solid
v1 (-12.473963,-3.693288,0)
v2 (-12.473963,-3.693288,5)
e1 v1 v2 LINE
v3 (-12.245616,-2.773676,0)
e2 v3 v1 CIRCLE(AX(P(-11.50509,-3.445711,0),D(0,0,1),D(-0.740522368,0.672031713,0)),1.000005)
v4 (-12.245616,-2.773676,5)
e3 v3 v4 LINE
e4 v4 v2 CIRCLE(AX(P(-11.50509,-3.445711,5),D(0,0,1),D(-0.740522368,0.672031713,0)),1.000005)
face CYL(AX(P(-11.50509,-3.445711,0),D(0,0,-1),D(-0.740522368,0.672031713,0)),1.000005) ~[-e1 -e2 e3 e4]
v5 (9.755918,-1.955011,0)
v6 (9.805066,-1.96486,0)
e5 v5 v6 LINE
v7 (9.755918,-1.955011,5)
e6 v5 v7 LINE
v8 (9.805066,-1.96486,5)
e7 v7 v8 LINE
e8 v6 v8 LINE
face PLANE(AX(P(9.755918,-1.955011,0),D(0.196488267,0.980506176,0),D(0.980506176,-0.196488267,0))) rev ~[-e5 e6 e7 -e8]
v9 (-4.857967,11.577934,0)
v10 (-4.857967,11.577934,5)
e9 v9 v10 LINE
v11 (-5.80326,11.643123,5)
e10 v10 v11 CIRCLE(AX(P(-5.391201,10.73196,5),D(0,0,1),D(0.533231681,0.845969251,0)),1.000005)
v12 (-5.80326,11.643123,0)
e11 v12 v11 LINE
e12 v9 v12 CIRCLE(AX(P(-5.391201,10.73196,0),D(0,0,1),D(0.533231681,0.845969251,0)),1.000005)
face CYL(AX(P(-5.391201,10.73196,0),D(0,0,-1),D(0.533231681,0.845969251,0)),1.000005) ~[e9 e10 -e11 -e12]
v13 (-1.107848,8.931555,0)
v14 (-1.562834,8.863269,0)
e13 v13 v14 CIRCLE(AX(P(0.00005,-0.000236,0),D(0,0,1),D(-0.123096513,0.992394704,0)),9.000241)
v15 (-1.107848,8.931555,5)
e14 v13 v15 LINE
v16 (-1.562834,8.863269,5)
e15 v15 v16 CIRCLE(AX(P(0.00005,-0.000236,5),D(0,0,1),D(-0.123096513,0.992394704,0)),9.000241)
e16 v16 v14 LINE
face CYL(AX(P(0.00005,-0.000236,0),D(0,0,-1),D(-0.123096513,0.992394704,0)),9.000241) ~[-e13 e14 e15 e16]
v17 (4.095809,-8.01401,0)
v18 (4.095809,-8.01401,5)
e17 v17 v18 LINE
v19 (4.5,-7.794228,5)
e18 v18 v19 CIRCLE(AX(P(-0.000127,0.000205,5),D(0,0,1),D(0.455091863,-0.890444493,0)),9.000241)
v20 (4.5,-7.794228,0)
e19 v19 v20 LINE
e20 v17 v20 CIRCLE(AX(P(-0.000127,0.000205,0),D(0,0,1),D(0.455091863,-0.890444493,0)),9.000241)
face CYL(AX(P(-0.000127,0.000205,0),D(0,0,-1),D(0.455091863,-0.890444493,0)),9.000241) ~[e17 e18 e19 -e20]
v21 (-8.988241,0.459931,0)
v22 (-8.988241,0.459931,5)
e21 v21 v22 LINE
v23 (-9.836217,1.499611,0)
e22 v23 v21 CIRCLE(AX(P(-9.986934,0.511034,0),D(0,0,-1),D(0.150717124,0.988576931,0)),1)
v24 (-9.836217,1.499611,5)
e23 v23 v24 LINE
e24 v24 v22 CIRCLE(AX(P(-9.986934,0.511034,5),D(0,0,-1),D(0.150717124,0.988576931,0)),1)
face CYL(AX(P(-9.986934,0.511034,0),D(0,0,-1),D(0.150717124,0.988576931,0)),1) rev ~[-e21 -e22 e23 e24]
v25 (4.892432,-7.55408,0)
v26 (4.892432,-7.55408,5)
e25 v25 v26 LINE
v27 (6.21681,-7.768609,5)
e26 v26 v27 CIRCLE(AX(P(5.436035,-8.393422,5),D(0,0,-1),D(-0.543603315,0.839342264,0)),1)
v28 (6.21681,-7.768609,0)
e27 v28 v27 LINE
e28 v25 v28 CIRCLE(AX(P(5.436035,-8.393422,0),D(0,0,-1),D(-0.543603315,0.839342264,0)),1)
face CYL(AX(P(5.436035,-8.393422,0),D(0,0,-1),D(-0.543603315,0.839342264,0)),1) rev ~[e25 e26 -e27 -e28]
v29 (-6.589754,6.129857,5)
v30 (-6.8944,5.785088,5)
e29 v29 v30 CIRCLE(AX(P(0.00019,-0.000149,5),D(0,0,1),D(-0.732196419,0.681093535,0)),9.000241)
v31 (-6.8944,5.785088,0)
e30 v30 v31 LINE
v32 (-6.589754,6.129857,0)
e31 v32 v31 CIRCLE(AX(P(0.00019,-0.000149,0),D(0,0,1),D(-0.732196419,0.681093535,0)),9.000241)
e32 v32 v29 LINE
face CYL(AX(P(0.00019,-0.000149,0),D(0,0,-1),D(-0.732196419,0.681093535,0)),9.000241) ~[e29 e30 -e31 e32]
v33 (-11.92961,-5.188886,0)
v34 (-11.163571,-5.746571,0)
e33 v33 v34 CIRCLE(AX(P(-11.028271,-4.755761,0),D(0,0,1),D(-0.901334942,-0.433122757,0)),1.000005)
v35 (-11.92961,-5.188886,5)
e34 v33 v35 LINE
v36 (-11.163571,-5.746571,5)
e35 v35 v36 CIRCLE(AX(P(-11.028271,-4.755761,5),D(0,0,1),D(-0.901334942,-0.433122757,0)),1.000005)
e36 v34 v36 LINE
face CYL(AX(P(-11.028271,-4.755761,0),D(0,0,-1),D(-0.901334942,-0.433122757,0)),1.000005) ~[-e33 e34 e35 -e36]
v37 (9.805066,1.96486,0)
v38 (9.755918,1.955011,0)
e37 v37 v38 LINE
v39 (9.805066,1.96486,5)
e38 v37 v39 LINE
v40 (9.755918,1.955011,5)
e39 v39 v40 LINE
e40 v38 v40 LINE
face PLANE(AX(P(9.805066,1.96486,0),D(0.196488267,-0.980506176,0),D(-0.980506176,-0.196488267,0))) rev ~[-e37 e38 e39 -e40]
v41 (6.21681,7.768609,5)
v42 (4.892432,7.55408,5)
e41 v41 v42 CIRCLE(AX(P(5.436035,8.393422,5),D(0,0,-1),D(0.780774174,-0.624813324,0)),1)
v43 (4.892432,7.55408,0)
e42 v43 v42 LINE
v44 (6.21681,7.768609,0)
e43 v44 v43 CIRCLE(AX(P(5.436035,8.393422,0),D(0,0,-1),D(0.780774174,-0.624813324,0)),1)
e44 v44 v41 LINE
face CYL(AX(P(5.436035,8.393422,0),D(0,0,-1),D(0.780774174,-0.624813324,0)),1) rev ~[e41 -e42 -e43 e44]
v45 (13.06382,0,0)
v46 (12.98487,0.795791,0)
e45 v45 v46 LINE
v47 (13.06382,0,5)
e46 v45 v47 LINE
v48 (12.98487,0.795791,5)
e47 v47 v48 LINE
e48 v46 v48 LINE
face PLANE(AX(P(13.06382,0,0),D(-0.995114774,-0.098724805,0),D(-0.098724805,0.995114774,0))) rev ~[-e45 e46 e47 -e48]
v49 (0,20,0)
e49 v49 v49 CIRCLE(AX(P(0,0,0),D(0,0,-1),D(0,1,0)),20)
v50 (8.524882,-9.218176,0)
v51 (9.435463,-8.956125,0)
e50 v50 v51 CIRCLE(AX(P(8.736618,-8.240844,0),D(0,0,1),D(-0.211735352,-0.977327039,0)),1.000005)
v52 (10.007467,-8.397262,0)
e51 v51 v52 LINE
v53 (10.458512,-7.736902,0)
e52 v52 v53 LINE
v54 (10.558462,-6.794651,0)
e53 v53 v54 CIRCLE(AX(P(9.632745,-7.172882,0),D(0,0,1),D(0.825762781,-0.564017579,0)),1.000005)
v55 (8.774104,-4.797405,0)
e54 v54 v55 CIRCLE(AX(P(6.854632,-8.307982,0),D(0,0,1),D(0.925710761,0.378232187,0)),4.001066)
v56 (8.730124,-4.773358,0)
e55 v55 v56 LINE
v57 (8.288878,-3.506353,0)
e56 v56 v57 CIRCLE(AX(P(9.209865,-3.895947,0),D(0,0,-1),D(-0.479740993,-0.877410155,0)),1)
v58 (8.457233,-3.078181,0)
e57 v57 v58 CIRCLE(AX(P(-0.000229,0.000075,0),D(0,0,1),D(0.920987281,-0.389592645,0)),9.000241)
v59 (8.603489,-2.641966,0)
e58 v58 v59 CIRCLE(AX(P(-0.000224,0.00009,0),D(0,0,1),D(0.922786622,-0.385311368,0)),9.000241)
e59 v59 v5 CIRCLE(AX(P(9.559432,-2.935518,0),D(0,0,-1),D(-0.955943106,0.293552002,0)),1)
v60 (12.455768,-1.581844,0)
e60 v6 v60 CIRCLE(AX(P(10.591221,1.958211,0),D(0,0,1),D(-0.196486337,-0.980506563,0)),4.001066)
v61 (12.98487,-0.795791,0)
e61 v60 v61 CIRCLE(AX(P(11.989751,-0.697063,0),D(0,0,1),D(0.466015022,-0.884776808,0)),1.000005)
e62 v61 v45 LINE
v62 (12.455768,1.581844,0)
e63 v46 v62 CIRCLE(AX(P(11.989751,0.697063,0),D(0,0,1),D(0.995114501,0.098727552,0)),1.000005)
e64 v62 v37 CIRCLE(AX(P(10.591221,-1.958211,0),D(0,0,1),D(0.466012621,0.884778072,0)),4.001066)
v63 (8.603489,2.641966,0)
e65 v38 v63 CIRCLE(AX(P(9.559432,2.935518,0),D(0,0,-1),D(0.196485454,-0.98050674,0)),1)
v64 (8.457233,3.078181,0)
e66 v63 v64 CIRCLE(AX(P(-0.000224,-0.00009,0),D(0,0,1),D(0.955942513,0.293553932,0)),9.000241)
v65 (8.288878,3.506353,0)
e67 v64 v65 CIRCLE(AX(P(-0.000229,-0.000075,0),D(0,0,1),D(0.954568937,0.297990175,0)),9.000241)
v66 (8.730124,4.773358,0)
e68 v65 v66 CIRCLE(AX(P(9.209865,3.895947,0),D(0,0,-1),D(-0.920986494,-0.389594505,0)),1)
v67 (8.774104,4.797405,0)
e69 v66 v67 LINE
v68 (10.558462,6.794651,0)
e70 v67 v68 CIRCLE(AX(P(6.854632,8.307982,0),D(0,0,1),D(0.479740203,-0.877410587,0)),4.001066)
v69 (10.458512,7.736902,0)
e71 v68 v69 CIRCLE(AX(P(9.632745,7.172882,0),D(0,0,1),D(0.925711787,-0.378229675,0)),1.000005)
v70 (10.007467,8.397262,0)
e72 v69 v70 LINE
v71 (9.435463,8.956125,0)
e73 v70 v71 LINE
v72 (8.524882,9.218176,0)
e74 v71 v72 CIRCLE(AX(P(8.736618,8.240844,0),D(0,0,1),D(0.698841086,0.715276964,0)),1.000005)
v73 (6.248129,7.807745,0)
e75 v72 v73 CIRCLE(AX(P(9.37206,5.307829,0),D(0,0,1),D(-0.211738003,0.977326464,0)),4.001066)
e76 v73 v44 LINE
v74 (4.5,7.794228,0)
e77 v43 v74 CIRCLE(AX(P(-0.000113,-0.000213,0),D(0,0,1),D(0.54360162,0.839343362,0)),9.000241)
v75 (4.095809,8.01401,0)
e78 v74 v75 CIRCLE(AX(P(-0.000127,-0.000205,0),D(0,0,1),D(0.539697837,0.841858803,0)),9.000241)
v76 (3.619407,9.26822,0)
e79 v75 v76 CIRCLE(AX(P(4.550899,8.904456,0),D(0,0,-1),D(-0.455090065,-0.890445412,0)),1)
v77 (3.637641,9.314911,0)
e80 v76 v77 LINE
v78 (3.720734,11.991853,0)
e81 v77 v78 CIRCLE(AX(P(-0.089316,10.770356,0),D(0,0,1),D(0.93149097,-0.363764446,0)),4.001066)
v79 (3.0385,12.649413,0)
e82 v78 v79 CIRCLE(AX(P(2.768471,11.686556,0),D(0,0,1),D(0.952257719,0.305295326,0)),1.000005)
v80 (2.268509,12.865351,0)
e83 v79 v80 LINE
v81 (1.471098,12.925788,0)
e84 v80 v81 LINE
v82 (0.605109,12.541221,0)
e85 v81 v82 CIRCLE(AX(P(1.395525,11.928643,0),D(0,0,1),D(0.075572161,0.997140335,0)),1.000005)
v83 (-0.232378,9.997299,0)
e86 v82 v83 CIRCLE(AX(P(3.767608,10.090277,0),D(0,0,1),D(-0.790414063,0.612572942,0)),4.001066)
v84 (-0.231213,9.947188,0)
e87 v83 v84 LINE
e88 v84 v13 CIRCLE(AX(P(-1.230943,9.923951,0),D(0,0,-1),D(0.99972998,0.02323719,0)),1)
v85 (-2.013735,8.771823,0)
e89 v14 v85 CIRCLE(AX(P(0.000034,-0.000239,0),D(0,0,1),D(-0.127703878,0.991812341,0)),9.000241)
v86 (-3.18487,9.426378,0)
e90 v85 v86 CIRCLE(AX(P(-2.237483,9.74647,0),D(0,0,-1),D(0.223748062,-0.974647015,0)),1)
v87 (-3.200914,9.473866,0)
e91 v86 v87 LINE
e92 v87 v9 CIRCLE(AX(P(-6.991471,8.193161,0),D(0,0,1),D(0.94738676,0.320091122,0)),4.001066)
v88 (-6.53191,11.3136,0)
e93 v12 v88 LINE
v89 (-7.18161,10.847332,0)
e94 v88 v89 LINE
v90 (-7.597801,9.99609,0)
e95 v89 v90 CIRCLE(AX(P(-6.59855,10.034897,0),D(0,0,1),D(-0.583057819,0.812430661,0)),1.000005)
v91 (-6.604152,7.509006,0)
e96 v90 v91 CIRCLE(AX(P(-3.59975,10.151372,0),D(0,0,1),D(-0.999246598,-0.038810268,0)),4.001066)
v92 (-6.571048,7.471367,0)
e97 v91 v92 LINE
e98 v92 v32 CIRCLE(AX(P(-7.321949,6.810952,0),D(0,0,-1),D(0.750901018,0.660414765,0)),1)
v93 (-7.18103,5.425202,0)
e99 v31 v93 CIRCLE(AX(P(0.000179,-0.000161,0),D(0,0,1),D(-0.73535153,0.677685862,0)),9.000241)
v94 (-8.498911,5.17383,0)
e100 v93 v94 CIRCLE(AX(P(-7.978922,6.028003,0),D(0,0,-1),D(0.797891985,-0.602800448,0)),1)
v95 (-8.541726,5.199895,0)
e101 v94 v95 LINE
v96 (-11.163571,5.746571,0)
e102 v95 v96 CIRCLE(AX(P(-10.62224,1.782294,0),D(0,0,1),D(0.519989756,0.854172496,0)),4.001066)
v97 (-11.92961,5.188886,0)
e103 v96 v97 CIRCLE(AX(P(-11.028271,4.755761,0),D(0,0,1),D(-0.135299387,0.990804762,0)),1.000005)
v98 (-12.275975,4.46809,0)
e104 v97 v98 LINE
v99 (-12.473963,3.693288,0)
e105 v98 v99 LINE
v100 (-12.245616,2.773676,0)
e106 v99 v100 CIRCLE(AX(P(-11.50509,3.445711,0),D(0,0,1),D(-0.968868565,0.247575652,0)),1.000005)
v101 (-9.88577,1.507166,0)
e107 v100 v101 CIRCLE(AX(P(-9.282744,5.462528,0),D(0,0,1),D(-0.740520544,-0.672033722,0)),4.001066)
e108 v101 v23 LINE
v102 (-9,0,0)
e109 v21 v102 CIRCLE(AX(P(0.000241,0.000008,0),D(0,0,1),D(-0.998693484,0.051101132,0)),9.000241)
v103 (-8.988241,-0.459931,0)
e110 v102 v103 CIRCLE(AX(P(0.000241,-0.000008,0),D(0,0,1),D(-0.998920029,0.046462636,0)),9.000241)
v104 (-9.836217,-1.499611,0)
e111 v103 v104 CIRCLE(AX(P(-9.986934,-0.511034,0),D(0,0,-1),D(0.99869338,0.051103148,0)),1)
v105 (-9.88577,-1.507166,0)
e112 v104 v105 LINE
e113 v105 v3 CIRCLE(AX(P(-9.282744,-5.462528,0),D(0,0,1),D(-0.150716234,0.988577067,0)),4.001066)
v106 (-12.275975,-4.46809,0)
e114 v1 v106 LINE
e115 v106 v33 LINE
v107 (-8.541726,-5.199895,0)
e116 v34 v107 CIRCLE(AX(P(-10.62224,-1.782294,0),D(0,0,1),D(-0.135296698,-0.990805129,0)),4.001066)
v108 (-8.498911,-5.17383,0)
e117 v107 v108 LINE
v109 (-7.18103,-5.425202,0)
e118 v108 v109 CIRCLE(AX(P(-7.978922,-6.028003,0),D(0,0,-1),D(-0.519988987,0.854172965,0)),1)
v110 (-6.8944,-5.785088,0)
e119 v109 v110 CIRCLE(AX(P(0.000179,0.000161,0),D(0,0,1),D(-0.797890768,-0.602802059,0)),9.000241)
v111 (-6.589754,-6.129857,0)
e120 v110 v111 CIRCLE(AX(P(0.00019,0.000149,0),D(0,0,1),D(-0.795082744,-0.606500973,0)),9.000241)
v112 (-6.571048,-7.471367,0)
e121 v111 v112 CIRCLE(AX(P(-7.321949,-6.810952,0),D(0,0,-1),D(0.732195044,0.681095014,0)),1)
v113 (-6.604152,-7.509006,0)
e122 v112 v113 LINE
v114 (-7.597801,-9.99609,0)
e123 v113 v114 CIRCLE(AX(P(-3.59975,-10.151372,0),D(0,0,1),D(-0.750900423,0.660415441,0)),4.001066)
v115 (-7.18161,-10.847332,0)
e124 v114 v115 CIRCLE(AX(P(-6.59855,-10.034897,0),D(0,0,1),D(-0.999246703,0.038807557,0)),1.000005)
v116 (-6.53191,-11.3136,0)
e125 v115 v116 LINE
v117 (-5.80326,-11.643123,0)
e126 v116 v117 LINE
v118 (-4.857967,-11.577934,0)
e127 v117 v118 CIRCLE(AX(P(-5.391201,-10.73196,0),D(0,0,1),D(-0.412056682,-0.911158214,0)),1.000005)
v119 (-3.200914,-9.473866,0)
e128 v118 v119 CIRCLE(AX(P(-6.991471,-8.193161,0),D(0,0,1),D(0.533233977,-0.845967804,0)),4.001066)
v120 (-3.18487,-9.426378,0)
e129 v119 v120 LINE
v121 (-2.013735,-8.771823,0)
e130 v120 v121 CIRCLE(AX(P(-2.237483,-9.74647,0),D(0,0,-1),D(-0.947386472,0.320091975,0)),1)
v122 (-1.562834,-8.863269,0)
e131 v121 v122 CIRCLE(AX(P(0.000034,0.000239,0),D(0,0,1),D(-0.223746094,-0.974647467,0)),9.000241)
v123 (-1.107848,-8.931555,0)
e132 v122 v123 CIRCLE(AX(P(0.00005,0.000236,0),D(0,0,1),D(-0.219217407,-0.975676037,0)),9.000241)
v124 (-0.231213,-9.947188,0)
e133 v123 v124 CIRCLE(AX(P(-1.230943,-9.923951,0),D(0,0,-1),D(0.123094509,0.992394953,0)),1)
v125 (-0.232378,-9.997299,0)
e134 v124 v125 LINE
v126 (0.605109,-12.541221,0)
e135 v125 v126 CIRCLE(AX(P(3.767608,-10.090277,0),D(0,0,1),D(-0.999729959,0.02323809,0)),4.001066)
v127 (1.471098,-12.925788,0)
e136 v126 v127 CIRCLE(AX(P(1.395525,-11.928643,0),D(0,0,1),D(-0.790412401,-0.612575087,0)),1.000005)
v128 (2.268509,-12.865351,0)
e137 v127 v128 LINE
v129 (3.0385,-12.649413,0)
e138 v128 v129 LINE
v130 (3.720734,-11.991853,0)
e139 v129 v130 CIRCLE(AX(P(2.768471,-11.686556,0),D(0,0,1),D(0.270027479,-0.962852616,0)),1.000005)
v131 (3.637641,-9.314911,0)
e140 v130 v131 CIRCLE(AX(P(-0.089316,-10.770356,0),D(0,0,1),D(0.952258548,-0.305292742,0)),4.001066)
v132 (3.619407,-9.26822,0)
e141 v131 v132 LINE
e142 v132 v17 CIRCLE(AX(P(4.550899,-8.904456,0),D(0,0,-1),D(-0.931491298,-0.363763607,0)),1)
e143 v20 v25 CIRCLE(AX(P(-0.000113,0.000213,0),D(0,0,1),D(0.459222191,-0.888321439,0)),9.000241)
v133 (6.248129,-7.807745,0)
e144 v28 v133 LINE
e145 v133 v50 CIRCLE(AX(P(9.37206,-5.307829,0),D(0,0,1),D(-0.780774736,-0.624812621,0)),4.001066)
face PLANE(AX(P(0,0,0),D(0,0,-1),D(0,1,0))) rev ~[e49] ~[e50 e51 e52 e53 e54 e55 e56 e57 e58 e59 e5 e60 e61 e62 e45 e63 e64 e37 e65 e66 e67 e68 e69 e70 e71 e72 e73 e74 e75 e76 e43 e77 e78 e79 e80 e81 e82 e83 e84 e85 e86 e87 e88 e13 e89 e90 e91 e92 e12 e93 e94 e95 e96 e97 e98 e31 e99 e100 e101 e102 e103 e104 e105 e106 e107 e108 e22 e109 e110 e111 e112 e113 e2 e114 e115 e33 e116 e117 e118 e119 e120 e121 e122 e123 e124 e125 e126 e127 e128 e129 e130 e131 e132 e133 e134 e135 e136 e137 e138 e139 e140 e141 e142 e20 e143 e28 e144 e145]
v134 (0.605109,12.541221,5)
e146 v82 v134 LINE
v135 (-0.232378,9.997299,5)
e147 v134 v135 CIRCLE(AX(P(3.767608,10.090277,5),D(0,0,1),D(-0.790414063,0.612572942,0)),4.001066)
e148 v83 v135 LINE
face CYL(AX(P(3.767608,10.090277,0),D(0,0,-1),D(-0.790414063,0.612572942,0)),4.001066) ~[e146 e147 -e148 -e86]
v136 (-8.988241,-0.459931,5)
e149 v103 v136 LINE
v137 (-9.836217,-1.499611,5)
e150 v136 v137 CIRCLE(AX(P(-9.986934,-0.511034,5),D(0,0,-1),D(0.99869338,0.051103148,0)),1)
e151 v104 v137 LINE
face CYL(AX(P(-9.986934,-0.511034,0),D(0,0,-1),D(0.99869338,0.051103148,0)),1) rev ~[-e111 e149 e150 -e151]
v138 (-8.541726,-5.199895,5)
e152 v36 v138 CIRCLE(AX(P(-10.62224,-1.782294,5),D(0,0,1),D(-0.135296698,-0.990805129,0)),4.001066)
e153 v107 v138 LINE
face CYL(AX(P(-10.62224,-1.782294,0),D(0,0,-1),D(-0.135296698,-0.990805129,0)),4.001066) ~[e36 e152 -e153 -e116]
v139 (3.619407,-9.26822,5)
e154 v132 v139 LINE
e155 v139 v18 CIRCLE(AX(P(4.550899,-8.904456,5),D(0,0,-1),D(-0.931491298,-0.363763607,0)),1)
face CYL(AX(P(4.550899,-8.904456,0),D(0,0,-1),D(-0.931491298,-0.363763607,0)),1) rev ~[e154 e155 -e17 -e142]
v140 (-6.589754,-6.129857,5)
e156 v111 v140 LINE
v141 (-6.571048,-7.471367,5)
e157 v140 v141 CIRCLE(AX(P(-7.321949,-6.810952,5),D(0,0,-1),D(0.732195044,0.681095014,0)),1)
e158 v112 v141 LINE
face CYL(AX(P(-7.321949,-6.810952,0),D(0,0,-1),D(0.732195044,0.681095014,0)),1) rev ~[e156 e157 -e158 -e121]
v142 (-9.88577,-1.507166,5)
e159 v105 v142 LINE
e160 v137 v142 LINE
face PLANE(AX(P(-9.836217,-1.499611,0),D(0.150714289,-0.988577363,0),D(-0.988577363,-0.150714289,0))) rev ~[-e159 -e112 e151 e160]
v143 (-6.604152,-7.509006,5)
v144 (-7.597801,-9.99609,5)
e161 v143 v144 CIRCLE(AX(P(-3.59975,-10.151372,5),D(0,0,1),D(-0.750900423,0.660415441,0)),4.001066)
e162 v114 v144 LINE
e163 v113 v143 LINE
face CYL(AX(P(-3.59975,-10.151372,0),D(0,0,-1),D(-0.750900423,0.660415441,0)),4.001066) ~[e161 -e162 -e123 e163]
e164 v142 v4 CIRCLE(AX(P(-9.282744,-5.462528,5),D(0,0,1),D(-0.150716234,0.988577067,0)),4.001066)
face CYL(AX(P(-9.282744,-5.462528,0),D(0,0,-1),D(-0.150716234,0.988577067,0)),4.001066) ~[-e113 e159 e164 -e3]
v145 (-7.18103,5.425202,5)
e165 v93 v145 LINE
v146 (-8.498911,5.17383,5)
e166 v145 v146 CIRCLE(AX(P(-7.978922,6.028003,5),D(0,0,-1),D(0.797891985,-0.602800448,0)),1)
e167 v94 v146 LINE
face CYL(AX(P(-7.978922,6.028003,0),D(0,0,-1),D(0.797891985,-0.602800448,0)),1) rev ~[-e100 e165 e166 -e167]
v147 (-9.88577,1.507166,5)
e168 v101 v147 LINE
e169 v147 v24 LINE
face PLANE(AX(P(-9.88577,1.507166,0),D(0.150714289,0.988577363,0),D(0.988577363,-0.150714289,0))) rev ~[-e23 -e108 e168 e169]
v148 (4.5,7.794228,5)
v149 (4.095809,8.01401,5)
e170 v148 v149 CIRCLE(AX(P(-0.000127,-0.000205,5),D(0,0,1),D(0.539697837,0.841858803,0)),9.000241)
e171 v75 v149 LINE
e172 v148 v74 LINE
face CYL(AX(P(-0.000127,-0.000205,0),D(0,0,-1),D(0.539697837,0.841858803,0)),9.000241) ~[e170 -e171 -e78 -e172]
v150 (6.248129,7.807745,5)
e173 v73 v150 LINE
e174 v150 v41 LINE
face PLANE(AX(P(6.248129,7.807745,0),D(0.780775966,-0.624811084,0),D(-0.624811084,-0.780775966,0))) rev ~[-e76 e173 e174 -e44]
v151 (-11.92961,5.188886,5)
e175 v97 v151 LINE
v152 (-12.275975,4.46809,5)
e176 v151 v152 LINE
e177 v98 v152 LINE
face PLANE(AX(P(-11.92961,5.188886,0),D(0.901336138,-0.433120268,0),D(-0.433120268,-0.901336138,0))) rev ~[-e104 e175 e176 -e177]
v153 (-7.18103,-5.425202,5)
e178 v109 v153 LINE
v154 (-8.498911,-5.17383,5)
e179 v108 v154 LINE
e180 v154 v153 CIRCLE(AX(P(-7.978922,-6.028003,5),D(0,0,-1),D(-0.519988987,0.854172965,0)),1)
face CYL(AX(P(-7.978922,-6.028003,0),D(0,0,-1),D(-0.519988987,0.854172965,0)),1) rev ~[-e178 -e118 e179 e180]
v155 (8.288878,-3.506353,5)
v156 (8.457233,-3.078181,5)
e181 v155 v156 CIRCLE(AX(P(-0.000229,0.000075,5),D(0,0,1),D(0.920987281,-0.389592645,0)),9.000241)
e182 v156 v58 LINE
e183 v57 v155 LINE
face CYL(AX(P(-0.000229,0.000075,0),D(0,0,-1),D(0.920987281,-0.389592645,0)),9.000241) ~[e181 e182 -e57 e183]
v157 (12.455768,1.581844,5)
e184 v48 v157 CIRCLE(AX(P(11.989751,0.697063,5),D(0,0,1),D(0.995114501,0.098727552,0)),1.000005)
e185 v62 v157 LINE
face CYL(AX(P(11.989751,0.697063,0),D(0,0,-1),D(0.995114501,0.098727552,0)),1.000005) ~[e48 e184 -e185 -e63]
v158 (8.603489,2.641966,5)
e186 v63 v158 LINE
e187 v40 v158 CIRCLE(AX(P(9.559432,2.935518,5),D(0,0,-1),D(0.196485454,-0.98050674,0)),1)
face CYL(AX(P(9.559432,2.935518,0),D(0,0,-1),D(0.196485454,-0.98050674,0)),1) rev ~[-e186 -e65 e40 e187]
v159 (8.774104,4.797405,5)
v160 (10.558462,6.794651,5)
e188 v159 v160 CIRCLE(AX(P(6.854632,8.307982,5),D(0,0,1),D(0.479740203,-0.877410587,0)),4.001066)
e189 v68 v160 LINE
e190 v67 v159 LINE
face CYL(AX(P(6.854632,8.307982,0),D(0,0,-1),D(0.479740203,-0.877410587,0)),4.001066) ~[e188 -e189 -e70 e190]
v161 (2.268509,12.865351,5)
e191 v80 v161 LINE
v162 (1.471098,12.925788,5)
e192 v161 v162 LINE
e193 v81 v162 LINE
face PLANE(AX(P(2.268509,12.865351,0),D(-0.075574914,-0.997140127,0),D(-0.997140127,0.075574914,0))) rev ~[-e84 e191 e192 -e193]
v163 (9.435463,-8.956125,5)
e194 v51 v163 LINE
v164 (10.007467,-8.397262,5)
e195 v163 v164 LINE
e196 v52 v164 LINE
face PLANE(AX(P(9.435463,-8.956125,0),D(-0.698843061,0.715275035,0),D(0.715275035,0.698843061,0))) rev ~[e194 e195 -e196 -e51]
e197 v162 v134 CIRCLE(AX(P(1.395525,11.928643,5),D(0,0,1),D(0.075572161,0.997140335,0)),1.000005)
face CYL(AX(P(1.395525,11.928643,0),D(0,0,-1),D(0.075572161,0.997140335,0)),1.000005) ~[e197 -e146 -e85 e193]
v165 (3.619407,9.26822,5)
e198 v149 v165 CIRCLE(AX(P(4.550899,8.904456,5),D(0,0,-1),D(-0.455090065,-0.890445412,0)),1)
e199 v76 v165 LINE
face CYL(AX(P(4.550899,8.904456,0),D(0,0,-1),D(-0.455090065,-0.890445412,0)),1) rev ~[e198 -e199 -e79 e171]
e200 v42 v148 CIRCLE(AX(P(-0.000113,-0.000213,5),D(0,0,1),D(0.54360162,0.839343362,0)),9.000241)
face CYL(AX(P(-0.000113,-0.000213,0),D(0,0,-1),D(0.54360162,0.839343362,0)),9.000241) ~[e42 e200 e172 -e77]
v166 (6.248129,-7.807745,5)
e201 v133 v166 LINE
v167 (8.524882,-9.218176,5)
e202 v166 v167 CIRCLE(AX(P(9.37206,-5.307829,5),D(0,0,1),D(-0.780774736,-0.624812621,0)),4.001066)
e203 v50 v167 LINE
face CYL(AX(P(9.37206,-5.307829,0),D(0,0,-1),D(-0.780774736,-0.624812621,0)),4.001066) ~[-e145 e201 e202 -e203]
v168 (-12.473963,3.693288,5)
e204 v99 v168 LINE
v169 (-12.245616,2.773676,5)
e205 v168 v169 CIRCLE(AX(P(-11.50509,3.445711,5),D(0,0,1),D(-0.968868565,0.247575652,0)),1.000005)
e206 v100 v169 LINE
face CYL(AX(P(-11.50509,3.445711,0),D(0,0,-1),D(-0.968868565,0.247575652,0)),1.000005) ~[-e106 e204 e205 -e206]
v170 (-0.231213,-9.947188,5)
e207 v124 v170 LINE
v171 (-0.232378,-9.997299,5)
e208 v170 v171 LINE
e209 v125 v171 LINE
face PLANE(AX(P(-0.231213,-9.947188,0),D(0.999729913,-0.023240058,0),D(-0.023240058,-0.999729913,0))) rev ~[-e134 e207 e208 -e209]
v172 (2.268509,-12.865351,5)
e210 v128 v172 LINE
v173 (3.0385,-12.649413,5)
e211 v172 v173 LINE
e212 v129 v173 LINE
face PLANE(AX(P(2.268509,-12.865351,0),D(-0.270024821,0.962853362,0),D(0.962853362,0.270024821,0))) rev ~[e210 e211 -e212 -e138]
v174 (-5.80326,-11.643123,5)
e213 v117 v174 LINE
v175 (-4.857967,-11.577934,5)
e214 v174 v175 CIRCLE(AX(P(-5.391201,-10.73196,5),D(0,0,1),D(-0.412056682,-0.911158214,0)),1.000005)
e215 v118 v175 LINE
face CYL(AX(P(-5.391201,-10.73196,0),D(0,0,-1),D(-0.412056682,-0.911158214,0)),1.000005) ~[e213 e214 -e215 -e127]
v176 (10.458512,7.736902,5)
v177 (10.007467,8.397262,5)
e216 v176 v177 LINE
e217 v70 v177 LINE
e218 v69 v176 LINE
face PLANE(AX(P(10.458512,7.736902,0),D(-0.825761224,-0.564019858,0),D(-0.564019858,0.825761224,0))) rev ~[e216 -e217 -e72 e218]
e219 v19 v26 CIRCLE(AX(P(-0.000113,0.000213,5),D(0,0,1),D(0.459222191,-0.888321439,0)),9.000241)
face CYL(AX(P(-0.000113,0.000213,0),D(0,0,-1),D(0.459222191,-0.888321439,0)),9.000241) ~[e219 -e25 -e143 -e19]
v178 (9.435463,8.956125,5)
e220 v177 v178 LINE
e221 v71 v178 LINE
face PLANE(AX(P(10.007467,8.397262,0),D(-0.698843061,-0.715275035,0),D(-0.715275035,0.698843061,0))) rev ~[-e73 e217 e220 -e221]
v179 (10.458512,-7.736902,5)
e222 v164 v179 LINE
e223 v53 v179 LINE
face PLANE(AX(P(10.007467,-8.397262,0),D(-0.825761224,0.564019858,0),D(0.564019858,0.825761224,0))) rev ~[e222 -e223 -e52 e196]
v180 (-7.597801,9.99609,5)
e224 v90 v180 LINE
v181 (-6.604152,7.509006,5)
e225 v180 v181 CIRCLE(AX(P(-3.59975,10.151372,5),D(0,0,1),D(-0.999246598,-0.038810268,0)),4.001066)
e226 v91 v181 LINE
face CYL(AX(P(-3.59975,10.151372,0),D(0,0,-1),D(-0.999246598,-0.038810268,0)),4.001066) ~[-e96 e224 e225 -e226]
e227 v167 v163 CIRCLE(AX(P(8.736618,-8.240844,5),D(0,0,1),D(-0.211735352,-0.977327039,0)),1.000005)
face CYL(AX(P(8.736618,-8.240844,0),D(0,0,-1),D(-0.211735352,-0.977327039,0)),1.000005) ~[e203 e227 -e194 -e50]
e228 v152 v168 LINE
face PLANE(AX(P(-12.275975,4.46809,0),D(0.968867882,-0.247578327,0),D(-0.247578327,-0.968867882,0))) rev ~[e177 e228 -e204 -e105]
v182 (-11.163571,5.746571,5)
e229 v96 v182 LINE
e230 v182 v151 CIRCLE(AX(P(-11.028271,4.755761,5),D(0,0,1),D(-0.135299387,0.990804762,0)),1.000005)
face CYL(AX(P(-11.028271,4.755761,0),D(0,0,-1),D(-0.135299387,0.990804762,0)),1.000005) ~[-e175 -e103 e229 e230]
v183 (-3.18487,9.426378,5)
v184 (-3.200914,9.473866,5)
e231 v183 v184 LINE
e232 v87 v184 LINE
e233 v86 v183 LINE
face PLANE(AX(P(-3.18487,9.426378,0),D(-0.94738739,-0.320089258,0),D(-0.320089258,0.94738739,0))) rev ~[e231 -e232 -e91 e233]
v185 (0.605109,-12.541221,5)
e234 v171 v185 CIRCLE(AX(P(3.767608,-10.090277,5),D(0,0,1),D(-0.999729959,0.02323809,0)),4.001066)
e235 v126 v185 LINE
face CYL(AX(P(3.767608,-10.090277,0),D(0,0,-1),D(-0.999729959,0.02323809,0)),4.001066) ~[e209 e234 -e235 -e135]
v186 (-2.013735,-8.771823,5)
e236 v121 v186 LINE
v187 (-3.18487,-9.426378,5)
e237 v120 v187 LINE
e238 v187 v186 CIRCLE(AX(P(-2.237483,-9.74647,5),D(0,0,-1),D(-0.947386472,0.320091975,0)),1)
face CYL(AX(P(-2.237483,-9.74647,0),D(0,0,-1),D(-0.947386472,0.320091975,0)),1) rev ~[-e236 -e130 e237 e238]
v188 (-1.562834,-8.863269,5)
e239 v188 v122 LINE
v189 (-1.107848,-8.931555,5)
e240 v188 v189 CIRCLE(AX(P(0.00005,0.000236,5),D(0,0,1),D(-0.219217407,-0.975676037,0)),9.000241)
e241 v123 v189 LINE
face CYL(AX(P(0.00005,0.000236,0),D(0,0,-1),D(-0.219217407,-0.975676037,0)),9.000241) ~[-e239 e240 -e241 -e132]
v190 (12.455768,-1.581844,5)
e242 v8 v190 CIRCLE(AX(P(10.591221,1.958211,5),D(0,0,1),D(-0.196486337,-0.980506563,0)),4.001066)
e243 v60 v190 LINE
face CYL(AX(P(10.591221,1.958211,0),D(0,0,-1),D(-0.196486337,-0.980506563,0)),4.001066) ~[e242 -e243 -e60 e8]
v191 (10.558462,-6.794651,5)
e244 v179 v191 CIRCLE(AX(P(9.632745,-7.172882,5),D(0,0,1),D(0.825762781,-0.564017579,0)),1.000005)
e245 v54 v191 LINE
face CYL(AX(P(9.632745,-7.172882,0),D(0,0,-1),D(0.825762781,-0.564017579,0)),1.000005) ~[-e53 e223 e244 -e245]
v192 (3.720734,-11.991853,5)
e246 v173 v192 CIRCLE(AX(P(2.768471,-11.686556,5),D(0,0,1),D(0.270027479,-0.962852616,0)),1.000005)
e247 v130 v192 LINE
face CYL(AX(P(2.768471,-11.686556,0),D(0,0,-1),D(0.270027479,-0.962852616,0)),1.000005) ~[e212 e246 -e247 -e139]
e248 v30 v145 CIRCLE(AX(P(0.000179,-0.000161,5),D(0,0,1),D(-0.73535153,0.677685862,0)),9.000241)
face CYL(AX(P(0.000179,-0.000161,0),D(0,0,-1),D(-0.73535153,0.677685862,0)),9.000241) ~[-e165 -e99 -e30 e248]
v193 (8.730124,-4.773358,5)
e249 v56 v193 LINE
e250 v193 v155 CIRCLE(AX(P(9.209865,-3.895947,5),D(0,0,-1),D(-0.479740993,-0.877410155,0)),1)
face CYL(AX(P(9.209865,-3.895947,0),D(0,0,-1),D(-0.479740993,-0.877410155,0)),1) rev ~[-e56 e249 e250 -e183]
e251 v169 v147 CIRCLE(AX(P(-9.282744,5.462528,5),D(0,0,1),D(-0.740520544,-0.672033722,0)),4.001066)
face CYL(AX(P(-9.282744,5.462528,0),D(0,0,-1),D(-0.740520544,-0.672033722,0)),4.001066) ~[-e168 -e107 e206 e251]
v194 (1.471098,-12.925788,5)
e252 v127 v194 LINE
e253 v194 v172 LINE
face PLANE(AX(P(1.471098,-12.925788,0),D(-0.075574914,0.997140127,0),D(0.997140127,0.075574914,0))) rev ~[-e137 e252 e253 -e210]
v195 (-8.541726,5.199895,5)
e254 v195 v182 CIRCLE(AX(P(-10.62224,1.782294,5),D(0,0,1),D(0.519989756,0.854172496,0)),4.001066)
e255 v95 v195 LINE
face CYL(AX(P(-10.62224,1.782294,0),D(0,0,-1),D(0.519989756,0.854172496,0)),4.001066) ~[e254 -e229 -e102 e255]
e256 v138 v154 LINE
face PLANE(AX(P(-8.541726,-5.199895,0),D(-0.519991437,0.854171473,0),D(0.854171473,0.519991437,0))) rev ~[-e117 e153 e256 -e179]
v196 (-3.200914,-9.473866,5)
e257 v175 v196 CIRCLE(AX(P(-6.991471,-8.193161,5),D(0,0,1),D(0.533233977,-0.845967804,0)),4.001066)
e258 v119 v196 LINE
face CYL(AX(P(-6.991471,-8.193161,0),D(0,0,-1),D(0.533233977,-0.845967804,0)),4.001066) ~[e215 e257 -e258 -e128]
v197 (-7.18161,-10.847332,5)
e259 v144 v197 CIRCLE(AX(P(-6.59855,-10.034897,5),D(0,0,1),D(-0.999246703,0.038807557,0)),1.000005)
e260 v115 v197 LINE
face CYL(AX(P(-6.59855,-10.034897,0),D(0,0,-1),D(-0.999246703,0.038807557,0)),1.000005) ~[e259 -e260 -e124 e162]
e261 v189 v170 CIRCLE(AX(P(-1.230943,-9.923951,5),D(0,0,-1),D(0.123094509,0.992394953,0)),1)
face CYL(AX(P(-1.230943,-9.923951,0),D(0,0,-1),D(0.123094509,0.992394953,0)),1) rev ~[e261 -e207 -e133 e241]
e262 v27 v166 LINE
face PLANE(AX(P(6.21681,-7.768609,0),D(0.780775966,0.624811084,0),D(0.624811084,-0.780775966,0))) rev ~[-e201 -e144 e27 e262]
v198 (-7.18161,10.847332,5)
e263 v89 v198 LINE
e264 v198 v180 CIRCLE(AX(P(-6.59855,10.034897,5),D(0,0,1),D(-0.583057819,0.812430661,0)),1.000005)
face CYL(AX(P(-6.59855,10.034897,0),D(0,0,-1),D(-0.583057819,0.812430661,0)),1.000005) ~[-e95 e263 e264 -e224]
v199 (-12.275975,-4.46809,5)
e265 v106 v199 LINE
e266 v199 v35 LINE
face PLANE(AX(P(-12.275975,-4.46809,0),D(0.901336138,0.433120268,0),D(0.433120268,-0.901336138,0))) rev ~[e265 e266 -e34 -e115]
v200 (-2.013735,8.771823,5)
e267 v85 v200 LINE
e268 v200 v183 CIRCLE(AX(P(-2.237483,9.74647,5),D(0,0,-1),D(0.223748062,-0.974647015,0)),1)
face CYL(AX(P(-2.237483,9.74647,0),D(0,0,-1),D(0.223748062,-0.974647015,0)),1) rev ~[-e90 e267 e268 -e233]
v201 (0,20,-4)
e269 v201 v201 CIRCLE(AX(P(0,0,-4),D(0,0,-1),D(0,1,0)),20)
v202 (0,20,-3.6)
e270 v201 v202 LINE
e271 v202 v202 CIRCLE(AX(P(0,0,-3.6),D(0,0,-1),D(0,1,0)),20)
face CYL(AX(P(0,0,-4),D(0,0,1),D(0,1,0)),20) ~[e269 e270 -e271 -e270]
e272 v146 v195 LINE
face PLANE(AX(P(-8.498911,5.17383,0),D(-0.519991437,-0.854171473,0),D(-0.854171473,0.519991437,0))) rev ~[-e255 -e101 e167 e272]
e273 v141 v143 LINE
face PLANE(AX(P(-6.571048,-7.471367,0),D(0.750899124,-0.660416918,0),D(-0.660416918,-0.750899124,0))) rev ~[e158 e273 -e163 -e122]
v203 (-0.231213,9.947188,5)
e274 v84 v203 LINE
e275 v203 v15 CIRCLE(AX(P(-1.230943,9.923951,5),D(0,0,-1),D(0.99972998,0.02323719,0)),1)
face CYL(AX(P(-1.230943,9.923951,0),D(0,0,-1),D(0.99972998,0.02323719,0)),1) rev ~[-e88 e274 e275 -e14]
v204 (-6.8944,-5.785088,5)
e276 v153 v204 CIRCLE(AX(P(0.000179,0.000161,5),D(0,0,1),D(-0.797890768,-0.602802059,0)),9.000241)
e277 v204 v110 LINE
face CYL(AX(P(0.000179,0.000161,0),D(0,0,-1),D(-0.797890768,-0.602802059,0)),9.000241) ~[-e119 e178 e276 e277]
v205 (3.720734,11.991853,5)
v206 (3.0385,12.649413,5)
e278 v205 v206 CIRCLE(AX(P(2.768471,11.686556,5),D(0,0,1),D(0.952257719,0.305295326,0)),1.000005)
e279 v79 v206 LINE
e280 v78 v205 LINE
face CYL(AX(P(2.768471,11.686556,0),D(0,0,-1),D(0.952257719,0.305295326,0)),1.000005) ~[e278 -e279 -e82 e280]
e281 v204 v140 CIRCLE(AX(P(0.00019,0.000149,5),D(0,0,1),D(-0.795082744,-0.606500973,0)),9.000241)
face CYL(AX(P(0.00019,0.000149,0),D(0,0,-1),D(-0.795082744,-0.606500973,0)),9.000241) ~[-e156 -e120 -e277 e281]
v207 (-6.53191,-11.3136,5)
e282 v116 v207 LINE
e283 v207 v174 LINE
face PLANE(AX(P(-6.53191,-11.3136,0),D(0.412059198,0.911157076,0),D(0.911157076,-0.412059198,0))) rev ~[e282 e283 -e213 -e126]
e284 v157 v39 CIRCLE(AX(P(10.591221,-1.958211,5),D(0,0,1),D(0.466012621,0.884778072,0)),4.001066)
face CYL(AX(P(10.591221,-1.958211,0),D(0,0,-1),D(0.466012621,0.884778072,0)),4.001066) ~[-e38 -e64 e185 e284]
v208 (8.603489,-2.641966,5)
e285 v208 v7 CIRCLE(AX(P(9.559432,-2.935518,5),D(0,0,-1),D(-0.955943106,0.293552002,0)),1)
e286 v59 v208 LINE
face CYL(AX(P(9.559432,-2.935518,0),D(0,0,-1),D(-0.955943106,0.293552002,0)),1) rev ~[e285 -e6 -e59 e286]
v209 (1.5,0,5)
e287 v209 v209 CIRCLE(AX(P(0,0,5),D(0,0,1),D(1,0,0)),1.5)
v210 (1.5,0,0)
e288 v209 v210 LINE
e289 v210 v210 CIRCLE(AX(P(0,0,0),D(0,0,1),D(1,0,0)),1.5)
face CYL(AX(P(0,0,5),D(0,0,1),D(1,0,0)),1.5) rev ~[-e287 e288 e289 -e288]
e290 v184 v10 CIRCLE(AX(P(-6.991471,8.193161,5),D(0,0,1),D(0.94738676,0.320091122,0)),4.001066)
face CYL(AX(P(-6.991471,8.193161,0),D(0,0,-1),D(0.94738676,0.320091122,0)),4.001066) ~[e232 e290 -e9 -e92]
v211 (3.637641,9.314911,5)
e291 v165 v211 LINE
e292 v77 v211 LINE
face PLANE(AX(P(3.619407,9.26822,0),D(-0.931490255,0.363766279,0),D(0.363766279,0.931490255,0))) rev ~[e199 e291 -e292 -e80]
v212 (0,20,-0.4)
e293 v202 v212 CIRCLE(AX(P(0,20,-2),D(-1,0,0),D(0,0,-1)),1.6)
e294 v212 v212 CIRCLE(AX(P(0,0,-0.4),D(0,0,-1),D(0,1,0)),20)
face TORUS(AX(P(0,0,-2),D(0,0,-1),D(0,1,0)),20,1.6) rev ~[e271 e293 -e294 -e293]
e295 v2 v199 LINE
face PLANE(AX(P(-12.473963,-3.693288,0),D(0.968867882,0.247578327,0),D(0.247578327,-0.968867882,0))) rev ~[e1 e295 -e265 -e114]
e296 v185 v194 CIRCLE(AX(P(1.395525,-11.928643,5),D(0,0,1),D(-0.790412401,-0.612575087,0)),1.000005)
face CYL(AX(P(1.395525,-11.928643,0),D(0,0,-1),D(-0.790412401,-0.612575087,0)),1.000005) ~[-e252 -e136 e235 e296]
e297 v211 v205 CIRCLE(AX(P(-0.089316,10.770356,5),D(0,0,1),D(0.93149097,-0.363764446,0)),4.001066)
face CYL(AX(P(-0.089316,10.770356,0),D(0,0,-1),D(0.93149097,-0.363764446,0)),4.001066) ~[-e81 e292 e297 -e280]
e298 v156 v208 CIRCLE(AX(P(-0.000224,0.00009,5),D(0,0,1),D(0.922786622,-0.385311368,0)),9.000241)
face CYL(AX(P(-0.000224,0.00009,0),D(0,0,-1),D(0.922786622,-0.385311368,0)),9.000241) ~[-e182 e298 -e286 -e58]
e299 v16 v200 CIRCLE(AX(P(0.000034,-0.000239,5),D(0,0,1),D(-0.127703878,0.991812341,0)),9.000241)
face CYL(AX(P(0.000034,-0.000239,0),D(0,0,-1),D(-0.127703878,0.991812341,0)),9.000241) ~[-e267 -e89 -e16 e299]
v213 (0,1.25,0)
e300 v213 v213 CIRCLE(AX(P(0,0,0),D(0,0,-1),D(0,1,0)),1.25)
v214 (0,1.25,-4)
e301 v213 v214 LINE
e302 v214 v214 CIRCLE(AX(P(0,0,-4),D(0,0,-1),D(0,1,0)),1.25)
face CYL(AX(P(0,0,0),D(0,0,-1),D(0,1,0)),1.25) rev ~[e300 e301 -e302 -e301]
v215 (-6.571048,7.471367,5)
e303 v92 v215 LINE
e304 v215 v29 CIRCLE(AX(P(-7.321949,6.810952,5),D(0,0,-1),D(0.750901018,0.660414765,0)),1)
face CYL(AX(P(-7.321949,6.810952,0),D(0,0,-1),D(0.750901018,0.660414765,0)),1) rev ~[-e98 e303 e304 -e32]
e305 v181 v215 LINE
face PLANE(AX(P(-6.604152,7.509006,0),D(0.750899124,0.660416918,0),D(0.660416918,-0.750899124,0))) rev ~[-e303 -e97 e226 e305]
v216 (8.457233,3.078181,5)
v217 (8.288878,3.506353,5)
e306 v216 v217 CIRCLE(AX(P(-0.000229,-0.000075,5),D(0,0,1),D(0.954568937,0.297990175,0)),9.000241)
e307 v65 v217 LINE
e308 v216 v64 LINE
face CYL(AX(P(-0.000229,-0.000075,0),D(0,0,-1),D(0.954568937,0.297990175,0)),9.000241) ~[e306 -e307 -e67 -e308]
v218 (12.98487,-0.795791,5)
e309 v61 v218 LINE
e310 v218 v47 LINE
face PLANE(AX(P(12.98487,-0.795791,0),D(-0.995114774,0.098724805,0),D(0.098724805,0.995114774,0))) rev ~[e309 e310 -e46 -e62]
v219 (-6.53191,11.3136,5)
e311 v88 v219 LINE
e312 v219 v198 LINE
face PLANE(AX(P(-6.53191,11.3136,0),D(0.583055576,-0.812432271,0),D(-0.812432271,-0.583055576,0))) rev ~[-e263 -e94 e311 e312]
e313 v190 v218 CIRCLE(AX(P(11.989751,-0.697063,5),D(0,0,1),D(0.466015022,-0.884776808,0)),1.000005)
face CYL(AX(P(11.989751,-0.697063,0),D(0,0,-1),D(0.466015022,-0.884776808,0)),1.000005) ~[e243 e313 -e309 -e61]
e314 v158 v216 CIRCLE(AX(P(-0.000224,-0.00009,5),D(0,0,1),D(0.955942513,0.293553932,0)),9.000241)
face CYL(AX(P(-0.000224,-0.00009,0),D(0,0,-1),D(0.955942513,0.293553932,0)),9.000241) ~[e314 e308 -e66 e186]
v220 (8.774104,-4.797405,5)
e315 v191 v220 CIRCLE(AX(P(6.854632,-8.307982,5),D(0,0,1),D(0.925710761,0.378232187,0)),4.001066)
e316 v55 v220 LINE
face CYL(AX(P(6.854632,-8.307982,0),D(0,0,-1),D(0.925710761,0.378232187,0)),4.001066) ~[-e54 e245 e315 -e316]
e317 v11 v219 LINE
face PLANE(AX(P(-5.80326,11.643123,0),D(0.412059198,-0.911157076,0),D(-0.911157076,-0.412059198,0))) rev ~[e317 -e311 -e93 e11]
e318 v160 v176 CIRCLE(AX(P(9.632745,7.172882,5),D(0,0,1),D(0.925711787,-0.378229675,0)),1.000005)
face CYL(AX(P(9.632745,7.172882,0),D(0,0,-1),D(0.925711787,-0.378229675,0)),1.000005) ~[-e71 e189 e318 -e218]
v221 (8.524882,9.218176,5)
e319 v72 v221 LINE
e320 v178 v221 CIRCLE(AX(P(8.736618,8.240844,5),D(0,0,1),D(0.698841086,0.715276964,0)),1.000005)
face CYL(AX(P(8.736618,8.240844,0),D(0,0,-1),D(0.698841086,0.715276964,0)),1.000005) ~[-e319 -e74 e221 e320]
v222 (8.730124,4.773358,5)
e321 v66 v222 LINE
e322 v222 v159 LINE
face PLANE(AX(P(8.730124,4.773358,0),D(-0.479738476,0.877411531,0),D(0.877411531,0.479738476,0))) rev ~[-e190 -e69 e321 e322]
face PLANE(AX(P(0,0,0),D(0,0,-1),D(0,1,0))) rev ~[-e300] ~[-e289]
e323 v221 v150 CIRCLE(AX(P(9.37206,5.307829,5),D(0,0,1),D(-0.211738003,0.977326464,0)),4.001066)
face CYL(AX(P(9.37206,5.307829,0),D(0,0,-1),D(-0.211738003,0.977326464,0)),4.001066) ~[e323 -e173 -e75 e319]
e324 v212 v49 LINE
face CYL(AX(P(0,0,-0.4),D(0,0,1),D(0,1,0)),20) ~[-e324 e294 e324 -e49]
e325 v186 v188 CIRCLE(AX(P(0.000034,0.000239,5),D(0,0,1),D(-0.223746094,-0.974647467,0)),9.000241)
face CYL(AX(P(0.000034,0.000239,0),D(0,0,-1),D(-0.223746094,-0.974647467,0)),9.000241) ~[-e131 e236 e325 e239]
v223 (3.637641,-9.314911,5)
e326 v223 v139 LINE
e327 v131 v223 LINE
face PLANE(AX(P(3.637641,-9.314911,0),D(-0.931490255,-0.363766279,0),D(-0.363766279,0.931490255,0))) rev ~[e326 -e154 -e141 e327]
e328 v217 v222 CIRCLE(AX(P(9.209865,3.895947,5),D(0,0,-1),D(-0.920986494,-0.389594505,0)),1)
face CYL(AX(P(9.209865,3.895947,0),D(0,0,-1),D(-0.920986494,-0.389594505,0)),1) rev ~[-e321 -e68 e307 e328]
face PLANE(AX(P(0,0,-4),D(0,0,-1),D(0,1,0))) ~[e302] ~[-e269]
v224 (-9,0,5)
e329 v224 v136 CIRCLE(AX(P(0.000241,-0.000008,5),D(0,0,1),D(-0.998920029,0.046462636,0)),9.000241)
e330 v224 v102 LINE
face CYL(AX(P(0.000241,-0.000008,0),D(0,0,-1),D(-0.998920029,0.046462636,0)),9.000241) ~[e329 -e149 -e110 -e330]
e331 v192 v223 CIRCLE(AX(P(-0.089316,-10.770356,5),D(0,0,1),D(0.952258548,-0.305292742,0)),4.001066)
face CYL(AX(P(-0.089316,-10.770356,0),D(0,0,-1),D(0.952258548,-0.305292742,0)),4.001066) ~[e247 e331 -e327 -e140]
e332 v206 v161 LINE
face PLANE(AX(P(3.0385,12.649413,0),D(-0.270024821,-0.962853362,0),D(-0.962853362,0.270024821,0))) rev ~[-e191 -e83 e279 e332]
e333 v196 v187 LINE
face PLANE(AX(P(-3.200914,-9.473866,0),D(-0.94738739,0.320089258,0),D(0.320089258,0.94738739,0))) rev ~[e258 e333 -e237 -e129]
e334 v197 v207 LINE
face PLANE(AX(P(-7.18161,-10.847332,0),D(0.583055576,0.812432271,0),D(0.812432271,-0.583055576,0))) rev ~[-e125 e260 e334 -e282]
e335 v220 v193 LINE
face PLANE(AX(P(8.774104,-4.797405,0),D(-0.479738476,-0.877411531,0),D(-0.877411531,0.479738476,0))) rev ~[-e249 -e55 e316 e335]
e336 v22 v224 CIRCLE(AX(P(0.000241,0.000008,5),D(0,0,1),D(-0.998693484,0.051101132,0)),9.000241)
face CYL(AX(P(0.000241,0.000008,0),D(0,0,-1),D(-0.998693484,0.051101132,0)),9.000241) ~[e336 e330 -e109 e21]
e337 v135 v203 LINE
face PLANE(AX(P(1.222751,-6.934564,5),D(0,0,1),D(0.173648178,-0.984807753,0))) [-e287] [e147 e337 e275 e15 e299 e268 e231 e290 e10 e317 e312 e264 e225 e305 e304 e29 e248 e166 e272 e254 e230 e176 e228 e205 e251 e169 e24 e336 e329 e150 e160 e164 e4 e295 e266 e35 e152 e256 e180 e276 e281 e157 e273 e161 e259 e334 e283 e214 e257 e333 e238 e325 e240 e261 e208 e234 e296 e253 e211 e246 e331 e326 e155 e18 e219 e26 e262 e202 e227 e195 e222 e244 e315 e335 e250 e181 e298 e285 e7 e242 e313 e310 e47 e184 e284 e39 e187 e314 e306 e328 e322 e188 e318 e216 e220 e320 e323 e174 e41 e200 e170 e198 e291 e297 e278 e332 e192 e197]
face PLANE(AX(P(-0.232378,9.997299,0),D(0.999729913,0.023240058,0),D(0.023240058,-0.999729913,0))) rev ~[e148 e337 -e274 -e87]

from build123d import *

# Parameters (mm, degrees)
F1_DEPTH = 5
F2_COUNT = 9
F4_R     = 1.5
F5_DEPTH = 5


with BuildPart() as f1:
    # F0 (on Top) → F1 (new body)
    with BuildSketch(Plane.XY):
        with BuildLine():
            Line((8.305078, 3.467805), (0, 0))
            Line((0, 0), (8.305078, -3.467805))
            ThreePointArc((8.305078, -3.467805), (8.464361, -3.058527), (8.603489, -2.641966))
            ThreePointArc((8.603489, -2.641966), (9.047406, -2.076548), (9.755918, -1.955011))
            Line((9.755918, -1.955011), (9.805066, -1.96486))
            ThreePointArc((9.805066, -1.96486), (11.163417, -2.001728), (12.455768, -1.581844))
            ThreePointArc((12.455768, -1.581844), (12.819329, -1.255462), (12.98487, -0.795791))
            Line((12.98487, -0.795791), (13.06382, 0))
            Line((13.06382, 0), (12.98487, 0.795791))
            ThreePointArc((12.98487, 0.795791), (12.819329, 1.255462), (12.455768, 1.581844))
            ThreePointArc((12.455768, 1.581844), (11.163417, 2.001728), (9.805066, 1.96486))
            Line((9.805066, 1.96486), (9.755918, 1.955011))
            ThreePointArc((9.755918, 1.955011), (9.047406, 2.076548), (8.603489, 2.641966))
            ThreePointArc((8.603489, 2.641966), (8.464361, 3.058527), (8.305078, 3.467805))
        make_face()
    extrude(amount=F1_DEPTH)


with BuildPart() as f2_1:
    # F2: instance of F1
    add(f1.part.rotate(Axis((0, 0, 2.5), (0, 0, 1)), 1 * 360 / F2_COUNT))


with BuildPart() as f2_2:
    # F2: instance of F1
    add(f1.part.rotate(Axis((0, 0, 2.5), (0, 0, 1)), 2 * 360 / F2_COUNT))


with BuildPart() as f2_3:
    # F2: instance of F1
    add(f1.part.rotate(Axis((0, 0, 2.5), (0, 0, 1)), 3 * 360 / F2_COUNT))


with BuildPart() as f2_4:
    # F2: instance of F1
    add(f1.part.rotate(Axis((0, 0, 2.5), (0, 0, 1)), 4 * 360 / F2_COUNT))


with BuildPart() as f2_5:
    # F2: instance of F1
    add(f1.part.rotate(Axis((0, 0, 2.5), (0, 0, 1)), 5 * 360 / F2_COUNT))


with BuildPart() as f2_6:
    # F2: instance of F1
    add(f1.part.rotate(Axis((0, 0, 2.5), (0, 0, 1)), 6 * 360 / F2_COUNT))


with BuildPart() as f2_7:
    # F2: instance of F1
    add(f1.part.rotate(Axis((0, 0, 2.5), (0, 0, 1)), 7 * 360 / F2_COUNT))


with BuildPart() as f2_8:
    # F2: instance of F1
    add(f1.part.rotate(Axis((0, 0, 2.5), (0, 0, 1)), 8 * 360 / F2_COUNT))


with BuildPart() as f2_7_1:
    add(f2_7.part)

    # F3: union F2_6, F2_4, F2_5, F1, F2_1, F2_3, F2_2, F2_8
    add(f2_6.part)
    add(f2_4.part)
    add(f2_5.part)
    add(f1.part)
    add(f2_1.part)
    add(f2_3.part)
    add(f2_2.part)
    add(f2_8.part)

    # F4 (on face) → F5 (cut, through all)
    with BuildSketch(Plane.XY.offset(5)):
        Circle(F4_R)
    extrude(amount=-F5_DEPTH, mode=Mode.SUBTRACT)

    # F6 (on Right) → F7 (revolve)
    with BuildSketch(Plane.YZ):
        with BuildLine():
            Line((20, 0), (1.25, 0))
            Line((1.25, 0), (1.25, -4))
            Line((1.25, -4), (20, -4))
            Line((20, -4), (20, -3.6))
            ThreePointArc((20, -3.6), (18.4, -2), (20, -0.4))
            Line((20, -0.4), (20, 0))
        make_face()
    revolve(axis=Axis((0, 0, -1.51735), (0, 0, -1)))


solid = f2_7_1.part
